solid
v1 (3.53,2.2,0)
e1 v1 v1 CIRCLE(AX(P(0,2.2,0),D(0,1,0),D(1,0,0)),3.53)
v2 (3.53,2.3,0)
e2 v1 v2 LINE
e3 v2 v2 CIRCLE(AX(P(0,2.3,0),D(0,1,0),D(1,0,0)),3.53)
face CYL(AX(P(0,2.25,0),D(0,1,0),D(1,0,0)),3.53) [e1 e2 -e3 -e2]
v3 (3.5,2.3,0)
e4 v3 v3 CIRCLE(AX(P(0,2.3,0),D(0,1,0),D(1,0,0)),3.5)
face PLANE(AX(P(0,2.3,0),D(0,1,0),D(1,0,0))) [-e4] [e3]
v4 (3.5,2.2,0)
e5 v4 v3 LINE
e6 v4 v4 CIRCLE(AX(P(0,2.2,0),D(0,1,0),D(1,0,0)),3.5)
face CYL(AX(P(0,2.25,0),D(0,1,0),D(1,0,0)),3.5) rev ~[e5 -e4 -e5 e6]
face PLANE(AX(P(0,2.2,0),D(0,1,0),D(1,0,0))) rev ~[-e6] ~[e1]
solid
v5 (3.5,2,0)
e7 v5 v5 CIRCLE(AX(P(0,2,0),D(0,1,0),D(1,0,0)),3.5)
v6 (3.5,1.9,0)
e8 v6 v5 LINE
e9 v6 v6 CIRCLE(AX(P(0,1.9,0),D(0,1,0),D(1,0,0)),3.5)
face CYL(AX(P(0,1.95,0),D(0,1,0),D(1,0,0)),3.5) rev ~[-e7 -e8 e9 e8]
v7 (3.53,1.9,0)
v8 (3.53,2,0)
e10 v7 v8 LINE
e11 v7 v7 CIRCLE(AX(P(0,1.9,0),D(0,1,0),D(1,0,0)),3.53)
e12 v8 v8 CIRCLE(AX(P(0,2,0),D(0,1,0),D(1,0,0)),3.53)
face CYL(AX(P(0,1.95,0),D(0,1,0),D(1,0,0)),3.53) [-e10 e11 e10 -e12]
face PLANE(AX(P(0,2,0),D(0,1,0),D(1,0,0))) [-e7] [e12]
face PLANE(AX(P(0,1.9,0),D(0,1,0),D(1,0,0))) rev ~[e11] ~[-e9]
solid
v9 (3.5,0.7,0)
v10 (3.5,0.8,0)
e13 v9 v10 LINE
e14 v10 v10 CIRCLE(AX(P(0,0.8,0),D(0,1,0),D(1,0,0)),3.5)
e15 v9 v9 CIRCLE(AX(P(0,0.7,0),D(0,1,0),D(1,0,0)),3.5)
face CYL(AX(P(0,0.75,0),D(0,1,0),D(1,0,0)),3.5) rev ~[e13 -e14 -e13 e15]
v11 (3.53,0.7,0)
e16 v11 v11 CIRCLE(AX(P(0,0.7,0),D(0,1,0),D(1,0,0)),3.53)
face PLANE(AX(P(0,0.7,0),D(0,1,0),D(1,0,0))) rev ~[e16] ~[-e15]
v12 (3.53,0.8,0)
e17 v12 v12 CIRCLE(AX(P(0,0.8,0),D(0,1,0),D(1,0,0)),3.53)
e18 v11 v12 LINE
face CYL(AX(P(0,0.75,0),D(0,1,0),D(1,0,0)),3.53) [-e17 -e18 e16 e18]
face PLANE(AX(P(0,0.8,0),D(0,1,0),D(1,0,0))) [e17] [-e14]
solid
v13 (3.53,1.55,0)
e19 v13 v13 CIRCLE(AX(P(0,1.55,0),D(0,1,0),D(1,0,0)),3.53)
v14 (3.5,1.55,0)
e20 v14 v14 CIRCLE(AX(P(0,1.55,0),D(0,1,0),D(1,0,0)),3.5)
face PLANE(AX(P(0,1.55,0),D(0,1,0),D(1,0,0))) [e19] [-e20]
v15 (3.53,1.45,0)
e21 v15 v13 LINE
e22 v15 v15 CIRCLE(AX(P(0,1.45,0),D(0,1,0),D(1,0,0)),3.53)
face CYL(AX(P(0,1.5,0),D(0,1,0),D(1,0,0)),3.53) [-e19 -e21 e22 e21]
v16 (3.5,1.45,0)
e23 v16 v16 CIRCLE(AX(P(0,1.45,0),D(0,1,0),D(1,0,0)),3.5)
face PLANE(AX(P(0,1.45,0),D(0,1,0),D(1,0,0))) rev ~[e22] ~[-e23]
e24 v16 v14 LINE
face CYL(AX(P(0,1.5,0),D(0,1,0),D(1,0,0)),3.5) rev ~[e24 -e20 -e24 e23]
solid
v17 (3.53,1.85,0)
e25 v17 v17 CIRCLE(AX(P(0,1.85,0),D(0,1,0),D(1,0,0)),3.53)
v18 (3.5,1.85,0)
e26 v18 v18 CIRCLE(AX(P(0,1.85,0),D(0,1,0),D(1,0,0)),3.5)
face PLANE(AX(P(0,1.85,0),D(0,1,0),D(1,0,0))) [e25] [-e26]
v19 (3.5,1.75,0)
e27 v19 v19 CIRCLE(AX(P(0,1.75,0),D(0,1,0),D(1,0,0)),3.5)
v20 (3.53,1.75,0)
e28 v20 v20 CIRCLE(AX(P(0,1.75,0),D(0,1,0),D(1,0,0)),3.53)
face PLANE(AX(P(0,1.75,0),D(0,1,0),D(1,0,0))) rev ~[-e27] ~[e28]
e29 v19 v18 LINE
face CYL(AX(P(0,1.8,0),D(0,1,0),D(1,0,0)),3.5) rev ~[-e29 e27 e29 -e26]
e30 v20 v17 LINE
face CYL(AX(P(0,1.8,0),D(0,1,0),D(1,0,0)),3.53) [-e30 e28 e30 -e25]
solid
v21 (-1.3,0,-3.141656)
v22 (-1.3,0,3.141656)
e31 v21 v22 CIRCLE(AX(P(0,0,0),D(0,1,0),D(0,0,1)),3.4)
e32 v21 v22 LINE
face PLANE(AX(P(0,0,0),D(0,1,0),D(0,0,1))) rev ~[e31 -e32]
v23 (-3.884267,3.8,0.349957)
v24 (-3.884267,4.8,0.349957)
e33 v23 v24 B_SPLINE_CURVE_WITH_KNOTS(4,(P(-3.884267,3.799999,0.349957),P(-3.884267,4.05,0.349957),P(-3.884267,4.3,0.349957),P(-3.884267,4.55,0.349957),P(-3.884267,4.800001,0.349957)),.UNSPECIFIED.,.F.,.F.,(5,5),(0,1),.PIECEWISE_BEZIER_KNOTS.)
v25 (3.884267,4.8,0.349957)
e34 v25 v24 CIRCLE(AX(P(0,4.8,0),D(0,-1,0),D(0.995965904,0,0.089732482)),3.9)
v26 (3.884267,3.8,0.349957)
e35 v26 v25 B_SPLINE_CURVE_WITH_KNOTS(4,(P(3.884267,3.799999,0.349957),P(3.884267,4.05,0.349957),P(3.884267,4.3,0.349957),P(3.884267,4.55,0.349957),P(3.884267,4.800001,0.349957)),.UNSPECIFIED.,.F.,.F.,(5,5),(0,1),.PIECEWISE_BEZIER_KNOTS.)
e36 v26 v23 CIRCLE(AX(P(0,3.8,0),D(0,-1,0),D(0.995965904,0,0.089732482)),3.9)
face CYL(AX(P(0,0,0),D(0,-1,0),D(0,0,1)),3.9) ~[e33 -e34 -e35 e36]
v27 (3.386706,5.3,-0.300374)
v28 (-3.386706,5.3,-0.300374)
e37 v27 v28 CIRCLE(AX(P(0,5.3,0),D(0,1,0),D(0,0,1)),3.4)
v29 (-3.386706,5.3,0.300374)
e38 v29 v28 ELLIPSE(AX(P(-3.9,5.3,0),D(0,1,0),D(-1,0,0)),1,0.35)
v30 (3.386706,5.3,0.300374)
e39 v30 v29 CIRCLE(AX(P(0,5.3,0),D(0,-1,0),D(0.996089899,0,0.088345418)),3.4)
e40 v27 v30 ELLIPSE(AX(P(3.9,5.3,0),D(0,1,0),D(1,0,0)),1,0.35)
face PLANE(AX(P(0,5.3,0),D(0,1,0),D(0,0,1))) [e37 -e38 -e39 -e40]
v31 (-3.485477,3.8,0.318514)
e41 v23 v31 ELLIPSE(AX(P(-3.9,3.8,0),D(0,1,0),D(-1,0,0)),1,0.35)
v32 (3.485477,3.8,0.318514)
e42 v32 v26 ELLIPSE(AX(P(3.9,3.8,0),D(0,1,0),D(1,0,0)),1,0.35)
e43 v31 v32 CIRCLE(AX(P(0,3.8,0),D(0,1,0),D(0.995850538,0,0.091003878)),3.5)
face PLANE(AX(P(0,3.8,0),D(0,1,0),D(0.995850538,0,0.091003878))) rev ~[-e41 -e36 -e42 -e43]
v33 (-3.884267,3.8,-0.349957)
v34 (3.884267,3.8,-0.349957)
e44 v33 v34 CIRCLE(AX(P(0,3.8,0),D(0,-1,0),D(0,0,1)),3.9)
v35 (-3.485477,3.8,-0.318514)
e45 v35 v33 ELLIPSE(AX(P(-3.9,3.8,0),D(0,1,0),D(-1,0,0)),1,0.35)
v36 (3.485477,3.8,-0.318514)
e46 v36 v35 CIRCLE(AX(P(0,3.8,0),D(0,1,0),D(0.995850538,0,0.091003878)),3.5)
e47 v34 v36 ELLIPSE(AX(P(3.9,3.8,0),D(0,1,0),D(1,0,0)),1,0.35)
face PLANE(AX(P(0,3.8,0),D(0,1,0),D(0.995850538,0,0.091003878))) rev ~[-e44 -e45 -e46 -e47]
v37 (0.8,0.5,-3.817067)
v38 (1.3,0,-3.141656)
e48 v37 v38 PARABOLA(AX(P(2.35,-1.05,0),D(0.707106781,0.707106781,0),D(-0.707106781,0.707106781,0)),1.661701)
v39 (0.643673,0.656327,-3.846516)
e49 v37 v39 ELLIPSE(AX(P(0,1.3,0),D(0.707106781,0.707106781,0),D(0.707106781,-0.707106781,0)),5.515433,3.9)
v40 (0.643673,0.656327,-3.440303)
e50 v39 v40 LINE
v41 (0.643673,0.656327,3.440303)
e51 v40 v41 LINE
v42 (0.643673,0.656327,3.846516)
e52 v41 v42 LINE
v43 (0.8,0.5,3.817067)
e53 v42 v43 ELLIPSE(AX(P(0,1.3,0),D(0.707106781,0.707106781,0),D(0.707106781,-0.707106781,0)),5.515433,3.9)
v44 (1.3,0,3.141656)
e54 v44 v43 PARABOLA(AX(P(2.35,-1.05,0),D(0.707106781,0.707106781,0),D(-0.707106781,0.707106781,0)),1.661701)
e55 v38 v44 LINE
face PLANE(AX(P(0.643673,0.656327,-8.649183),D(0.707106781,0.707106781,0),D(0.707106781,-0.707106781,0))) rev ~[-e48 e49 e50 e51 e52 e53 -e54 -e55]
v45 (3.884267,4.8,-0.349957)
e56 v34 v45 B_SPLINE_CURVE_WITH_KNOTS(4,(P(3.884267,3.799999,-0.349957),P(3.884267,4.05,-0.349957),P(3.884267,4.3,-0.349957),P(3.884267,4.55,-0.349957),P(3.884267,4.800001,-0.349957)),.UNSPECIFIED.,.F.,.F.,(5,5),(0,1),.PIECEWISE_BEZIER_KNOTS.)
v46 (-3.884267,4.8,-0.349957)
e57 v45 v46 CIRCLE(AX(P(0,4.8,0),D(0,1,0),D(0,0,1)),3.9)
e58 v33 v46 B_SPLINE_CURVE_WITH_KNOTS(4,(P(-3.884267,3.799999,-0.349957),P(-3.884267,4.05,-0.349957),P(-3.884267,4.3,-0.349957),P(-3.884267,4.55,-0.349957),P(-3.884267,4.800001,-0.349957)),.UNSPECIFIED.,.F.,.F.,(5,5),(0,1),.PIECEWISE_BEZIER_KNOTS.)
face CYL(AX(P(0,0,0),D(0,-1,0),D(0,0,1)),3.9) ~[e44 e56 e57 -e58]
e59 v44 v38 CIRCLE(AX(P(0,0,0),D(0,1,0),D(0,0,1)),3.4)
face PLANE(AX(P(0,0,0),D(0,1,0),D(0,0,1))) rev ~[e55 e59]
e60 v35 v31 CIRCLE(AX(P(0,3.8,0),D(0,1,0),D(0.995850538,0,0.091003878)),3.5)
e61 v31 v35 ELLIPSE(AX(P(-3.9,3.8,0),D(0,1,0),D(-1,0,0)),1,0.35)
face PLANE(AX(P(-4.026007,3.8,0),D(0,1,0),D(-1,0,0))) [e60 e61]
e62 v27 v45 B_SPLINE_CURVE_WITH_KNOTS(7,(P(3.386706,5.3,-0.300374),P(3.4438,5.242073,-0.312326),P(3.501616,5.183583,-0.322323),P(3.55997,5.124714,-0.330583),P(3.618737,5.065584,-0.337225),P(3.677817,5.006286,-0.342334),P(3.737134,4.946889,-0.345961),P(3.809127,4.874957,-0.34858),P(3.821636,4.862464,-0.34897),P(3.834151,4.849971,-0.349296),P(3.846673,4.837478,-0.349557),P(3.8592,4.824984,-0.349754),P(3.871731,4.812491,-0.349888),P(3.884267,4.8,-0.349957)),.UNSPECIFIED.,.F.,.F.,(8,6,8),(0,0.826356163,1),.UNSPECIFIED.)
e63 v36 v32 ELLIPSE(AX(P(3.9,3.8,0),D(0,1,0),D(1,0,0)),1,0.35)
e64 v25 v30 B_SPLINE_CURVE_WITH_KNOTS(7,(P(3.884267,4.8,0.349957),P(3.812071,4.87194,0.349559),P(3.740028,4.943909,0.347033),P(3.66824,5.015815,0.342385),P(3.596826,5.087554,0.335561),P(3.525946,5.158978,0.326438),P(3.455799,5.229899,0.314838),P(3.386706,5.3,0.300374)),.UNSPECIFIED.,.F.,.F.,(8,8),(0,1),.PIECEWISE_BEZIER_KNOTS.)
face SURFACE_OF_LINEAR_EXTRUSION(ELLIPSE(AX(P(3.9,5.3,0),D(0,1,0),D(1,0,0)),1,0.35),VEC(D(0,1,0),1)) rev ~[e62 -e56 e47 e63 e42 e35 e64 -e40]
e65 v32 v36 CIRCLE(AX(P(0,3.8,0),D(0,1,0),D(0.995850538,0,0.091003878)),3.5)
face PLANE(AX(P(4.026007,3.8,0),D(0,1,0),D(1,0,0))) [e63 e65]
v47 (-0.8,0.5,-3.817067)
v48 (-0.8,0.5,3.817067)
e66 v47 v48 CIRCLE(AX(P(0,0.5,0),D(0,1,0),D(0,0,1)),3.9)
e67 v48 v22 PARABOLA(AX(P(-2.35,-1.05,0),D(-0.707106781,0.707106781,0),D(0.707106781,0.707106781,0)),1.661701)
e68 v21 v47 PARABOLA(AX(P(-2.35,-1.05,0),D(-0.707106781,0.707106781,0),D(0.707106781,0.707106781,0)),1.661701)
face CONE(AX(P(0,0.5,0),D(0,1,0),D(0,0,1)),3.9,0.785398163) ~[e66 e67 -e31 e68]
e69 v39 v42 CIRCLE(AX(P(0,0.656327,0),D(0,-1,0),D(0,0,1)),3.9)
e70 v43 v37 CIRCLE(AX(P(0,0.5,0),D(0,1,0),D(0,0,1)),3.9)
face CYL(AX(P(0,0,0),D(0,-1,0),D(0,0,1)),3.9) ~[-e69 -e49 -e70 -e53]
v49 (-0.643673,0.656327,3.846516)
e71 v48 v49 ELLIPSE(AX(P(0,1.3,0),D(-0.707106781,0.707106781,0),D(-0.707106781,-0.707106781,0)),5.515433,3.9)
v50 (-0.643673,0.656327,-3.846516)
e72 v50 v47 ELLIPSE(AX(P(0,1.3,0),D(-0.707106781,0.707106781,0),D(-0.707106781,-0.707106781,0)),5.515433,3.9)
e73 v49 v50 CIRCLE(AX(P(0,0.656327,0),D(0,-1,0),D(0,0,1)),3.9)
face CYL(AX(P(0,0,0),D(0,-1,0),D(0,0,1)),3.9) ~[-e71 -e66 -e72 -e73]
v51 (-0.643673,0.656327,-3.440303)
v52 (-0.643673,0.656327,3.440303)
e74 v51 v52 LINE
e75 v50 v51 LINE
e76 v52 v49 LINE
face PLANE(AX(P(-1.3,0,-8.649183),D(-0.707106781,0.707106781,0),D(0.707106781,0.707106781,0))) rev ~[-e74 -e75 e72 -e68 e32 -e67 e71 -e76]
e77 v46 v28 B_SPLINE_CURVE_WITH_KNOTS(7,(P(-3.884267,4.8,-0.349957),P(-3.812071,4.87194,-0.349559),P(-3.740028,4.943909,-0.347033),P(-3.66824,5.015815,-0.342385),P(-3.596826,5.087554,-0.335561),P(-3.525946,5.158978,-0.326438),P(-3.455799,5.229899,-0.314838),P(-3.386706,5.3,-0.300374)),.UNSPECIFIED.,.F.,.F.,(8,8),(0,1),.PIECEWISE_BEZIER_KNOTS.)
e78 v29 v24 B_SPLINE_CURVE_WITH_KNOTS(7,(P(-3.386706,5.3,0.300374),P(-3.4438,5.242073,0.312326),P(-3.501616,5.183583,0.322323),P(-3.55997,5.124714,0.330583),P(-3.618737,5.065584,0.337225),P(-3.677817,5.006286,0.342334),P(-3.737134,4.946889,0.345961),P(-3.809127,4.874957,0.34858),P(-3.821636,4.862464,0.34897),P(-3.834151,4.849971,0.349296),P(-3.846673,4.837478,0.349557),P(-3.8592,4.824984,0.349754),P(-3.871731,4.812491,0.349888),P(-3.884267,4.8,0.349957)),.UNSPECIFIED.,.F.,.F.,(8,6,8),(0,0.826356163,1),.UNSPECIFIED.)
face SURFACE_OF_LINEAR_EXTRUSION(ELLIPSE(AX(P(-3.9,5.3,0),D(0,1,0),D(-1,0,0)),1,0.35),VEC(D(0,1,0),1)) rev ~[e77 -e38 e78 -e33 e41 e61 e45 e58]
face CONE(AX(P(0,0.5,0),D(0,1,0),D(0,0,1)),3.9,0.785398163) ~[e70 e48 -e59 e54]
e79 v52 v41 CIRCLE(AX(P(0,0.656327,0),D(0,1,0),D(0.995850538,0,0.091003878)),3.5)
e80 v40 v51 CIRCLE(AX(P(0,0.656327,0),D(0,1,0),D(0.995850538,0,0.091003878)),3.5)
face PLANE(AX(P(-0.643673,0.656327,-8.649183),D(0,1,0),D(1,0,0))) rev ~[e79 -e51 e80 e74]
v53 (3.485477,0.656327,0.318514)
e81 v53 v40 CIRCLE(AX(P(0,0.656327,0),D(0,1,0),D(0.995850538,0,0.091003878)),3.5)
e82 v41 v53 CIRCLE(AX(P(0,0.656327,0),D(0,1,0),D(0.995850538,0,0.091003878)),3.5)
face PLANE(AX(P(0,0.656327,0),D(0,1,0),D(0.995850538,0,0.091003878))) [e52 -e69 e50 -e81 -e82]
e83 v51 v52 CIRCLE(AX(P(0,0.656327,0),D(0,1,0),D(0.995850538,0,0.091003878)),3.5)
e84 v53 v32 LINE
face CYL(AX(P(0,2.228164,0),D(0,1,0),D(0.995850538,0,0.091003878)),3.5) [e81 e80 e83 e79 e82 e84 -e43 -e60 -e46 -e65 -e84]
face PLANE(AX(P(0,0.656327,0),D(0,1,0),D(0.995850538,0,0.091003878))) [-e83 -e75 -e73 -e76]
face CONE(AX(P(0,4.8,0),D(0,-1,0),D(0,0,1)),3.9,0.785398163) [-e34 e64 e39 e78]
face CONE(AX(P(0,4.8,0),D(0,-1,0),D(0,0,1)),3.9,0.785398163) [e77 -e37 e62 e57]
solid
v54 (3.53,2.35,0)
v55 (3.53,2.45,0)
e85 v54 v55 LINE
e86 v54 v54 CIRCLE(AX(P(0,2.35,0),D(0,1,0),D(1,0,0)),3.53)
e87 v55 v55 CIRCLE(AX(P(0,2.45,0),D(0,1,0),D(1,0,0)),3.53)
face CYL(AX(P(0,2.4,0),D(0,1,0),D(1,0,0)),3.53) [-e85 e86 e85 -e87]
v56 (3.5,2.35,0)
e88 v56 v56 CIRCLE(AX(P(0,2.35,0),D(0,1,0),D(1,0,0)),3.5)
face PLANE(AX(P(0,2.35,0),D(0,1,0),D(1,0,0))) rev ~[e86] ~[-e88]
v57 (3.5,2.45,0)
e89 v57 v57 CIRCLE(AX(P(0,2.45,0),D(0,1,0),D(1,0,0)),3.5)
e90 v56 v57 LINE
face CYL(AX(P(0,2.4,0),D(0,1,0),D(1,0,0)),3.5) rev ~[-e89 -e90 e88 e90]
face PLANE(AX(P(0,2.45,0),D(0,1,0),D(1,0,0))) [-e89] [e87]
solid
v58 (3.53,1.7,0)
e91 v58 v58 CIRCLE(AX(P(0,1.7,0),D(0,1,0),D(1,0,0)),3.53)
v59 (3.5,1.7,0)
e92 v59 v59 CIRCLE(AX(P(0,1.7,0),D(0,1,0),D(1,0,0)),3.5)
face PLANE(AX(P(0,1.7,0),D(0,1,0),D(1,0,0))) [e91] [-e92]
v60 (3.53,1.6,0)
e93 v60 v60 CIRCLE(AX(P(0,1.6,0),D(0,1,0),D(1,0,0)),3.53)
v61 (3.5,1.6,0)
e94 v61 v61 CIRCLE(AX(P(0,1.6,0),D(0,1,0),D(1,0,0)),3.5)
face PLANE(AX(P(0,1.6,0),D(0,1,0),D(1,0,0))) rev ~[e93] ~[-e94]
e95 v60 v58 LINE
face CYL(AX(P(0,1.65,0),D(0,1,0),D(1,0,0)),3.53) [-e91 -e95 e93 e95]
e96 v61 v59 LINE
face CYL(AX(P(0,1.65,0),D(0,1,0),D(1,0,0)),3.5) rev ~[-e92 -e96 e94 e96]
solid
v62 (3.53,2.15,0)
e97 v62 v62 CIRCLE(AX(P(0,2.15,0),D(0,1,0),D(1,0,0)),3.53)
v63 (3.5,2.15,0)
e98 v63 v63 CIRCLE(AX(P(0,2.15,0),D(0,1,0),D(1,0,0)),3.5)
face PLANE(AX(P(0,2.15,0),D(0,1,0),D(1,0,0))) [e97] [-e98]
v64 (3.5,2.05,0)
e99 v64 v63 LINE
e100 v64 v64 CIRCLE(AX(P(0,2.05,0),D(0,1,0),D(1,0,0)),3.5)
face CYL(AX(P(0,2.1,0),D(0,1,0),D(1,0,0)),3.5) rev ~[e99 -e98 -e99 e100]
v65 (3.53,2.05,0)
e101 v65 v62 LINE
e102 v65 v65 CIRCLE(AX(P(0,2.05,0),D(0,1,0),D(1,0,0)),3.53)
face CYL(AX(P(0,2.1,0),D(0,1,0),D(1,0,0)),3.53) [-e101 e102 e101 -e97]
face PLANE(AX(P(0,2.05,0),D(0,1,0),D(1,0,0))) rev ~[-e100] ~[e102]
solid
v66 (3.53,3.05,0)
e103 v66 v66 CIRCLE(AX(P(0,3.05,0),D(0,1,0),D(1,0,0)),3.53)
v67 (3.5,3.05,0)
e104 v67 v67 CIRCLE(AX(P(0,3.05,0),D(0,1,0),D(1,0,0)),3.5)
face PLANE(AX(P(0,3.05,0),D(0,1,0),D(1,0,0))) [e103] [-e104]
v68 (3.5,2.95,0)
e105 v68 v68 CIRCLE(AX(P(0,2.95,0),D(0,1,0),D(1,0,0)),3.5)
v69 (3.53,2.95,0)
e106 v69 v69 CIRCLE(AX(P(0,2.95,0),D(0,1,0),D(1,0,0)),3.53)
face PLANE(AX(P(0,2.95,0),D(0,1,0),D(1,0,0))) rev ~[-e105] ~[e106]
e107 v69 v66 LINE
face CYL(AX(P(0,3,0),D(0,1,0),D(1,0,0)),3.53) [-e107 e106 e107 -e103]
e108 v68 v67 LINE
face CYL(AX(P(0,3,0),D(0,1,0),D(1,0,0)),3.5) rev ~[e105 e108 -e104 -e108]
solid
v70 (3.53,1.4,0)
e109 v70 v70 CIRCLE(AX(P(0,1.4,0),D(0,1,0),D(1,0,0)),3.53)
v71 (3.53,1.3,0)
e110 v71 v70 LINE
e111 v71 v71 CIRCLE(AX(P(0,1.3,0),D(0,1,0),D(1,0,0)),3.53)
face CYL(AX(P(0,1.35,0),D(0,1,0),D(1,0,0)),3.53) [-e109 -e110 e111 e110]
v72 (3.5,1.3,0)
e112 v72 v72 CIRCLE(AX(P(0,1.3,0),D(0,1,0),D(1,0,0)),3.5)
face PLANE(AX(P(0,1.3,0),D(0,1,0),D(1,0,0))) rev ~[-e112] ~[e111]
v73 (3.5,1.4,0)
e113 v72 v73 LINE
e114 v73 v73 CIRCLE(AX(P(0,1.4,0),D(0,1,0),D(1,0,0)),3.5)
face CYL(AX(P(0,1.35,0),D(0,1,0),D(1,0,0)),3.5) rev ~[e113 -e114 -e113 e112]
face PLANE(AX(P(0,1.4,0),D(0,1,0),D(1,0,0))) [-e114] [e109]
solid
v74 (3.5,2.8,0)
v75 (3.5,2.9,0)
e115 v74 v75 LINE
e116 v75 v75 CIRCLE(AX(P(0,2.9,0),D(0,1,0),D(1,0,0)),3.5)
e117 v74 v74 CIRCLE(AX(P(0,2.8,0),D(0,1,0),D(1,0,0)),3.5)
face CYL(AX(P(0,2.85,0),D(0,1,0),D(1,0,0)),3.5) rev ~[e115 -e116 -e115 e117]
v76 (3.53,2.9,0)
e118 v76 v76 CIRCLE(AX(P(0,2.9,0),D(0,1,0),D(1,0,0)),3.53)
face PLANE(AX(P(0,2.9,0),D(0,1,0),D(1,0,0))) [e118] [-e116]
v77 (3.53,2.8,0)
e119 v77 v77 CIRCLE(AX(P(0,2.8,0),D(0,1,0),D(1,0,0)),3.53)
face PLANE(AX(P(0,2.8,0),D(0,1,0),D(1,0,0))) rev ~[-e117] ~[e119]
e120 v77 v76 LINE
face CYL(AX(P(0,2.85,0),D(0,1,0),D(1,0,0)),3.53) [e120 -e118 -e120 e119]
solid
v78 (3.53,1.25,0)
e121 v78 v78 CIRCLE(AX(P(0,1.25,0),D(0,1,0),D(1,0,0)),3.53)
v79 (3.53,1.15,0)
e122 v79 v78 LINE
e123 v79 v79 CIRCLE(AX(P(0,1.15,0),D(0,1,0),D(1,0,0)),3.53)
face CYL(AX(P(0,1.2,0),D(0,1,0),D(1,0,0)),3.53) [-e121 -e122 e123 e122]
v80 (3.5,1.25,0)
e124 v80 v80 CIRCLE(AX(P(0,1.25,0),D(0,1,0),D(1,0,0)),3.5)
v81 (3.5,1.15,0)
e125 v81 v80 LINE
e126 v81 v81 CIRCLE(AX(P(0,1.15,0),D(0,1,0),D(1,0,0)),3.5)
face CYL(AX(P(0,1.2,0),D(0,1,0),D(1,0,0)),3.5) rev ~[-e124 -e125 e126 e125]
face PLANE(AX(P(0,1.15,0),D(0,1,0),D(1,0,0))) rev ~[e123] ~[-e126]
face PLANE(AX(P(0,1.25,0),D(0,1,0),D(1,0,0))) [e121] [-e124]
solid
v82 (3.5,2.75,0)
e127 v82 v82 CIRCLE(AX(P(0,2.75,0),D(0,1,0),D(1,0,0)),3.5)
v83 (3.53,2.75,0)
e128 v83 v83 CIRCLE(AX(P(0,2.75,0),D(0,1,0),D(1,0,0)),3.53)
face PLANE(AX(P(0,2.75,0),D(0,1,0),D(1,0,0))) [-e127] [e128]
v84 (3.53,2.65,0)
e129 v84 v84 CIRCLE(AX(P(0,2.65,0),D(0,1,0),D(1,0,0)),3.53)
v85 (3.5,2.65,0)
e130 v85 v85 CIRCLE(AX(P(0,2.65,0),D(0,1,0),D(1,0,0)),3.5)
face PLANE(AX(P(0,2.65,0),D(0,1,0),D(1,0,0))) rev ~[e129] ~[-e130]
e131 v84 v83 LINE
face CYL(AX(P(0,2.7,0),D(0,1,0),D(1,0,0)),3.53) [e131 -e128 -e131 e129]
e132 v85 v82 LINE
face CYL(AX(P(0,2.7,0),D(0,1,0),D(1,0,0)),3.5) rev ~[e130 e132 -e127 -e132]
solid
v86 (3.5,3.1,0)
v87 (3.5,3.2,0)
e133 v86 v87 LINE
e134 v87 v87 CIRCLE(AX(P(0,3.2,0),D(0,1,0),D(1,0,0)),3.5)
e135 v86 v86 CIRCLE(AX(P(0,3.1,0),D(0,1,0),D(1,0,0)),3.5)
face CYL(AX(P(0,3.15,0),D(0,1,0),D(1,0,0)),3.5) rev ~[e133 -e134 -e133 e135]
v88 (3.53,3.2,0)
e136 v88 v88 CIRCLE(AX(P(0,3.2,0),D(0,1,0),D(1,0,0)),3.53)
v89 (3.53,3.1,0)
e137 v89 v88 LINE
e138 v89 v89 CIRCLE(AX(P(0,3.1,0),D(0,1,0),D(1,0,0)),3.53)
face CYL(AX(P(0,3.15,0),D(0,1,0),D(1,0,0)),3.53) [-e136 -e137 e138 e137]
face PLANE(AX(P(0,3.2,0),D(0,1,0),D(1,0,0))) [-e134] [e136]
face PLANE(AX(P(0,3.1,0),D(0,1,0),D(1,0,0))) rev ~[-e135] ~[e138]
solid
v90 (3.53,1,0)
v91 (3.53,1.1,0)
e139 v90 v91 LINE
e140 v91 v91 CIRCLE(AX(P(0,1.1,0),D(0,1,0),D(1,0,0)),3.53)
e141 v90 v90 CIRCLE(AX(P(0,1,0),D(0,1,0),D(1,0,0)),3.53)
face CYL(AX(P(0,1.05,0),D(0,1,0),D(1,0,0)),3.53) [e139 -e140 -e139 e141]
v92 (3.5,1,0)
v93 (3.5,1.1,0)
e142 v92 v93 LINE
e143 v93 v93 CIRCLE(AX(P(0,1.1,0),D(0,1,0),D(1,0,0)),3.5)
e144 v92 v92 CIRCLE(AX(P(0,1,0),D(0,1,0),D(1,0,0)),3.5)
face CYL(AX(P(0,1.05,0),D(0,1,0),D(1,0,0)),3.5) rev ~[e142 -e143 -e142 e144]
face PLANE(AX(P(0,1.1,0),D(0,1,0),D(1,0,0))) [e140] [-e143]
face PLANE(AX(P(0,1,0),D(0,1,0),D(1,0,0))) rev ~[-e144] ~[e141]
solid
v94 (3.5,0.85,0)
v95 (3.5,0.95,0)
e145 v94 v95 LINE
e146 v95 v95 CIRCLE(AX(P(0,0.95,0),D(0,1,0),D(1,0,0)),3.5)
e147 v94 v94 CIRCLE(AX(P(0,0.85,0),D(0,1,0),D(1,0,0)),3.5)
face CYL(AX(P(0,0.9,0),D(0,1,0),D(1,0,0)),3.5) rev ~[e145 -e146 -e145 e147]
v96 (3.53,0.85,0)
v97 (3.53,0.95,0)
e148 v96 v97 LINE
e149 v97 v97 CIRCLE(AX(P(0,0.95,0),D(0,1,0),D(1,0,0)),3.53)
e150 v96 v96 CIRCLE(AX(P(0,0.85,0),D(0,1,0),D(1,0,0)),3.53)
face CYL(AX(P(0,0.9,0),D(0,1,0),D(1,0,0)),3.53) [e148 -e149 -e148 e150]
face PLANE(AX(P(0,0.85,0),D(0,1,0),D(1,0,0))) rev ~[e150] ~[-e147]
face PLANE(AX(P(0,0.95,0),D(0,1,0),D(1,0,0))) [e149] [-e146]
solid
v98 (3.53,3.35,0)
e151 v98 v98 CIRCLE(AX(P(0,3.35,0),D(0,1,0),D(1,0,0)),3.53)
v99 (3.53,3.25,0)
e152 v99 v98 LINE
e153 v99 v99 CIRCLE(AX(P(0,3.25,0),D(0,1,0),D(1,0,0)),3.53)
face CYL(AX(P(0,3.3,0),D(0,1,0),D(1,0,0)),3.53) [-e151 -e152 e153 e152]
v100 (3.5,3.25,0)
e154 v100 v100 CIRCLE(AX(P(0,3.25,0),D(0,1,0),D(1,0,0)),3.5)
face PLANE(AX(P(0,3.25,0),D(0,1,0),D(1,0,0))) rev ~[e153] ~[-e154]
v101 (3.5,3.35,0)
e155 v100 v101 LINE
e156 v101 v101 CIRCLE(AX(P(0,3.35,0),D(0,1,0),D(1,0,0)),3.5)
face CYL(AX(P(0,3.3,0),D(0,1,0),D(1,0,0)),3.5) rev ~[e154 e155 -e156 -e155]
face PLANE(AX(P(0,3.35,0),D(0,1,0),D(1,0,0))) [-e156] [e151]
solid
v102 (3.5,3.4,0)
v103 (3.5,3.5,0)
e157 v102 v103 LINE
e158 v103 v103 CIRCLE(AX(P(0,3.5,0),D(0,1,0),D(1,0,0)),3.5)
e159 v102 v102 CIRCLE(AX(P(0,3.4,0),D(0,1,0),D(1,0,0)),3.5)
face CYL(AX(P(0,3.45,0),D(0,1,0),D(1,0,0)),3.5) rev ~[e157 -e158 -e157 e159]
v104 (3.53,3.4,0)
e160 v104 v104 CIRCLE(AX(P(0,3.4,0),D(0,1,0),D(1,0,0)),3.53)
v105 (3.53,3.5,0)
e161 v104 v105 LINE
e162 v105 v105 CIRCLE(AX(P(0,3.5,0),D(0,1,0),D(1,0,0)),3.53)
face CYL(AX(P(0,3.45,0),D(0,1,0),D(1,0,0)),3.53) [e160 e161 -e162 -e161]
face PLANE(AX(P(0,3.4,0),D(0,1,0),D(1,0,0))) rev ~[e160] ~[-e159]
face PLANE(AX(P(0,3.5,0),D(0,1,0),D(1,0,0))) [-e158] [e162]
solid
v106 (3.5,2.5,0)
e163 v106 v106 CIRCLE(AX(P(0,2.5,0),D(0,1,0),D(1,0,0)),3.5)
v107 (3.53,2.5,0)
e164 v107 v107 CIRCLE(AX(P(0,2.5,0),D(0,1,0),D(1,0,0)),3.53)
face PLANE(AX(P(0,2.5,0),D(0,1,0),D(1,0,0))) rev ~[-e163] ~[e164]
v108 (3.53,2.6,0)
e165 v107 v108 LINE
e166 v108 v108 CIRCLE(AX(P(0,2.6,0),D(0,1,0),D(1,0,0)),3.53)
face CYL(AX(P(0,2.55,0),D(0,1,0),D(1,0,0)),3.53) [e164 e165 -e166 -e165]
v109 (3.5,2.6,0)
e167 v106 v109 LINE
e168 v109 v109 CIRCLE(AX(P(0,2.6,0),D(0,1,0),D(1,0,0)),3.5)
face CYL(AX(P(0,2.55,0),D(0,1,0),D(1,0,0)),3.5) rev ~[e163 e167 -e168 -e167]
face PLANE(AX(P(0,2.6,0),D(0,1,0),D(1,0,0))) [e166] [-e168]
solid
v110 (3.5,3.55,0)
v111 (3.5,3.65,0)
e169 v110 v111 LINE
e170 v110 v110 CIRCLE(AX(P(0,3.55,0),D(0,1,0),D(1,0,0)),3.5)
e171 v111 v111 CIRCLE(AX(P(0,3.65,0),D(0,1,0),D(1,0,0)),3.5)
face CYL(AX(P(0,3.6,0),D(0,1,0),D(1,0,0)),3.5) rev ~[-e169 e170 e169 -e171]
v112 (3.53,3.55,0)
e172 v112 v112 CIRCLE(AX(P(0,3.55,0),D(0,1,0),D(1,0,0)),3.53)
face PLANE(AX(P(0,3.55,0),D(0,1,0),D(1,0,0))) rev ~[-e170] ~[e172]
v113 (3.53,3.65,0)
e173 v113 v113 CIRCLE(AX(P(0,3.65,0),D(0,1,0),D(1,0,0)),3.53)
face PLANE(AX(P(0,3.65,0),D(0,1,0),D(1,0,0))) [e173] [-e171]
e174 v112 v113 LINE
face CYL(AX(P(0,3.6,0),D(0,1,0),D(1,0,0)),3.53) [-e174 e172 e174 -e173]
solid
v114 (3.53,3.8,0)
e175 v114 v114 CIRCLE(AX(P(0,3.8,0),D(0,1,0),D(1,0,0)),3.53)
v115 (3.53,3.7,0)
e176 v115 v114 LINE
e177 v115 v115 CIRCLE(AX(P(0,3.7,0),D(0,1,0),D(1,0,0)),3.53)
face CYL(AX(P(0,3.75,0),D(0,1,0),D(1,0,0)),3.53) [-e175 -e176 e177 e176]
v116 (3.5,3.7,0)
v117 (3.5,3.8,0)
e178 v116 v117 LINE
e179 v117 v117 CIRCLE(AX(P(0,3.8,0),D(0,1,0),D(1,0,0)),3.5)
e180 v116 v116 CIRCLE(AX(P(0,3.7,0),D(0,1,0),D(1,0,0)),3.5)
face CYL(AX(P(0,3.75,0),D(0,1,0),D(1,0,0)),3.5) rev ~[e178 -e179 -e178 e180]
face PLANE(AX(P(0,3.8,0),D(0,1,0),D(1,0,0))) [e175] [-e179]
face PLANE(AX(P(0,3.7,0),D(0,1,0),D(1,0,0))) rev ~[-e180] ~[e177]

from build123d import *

# Parameters (mm, degrees)
SKETCH1_R               = 3.9
BOSS_EXTRUDE1_DEPTH     = 5.3
CHAMFER1_SIZE           = 0.5
CHAMFER2_SIZE           = 0.5
CUT_EXTRUDE2_DEPTH      = 8.649182963
CUT_EXTRUDE2_DEPTH_BACK = 8.649182963
SKETCH4_RX              = 1
SKETCH4_RY              = 0.35
CUT_EXTRUDE4_DEPTH      = 1.5
SKETCH5_W               = 0.8
SKETCH5_H               = 3.143672775
SKETCH6_W               = 0.03
SKETCH6_H               = 0.1


with BuildPart() as part:
    # Sketch1 → Boss-Extrude1 (new body)
    with BuildSketch(Plane(origin=(0, 0, 0), x_dir=(1, 0, 0), z_dir=(0, 1, 0))):
        with Locations(Location((0, 0, 0), (0, 0, 270))):
            Circle(SKETCH1_R)
    extrude(amount=BOSS_EXTRUDE1_DEPTH)

    # Chamfer1
    chamfer1_edges = [part.edges().sort_by_distance(p)[0] for p in [
        (0, 5.3, -3.9),
    ]]
    chamfer(chamfer1_edges, length=CHAMFER1_SIZE)

    # Chamfer2
    chamfer2_edges = [part.edges().sort_by_distance(p)[0] for p in [
        (0, 0, -3.9),
    ]]
    chamfer(chamfer2_edges, length=CHAMFER2_SIZE)

    # Sketch2 → Cut-Extrude2 (cut, two sides: drawn at the far end of the back side and taken through both)
    with BuildSketch(Plane.XY.offset(-CUT_EXTRUDE2_DEPTH_BACK)):
        Polygon((0, 0), (-1.3, 0), (-0.643672775, 0.656327225), (0.643672775, 0.656327225), (1.3, 0), align=None)
    extrude(amount=CUT_EXTRUDE2_DEPTH + CUT_EXTRUDE2_DEPTH_BACK, mode=Mode.SUBTRACT)

    # Sketch4 → Cut-Extrude4 (cut)
    with BuildSketch(Plane(origin=(0, 5.3, 0), x_dir=(1, 0, 0), z_dir=(0, 1, 0))):
        with Locations(Location((-3.9, 0), (0, 0, 180))):
            Ellipse(SKETCH4_RX, SKETCH4_RY)
        with Locations((3.9, 0)):
            Ellipse(SKETCH4_RX, SKETCH4_RY)
    extrude(amount=-CUT_EXTRUDE4_DEPTH, mode=Mode.SUBTRACT)

    # Sketch5 → Cut-Revolve1 (revolve, cut)
    with BuildSketch(Plane.XY, mode=Mode.PRIVATE) as cut_revolve1_sk:
        with Locations((-3.9, 2.228163613)):
            Rectangle(SKETCH5_W, SKETCH5_H)
    revolve(cut_revolve1_sk.sketch.rotate(Axis((0, -1000, 0), (0, 1, 0)), 174.778637909), axis=Axis((0, -1000, 0), (0, 1, 0)), mode=Mode.SUBTRACT)


with BuildPart() as body_2:
    # Sketch6 → Revolve1 (revolve)
    with BuildSketch(Plane.XY, mode=Mode.PRIVATE) as revolve1_sk:
        with Locations((-3.515, 3.6)):
            Rectangle(SKETCH6_W, SKETCH6_H)
        with Locations((-3.515, 3.75)):
            Rectangle(SKETCH6_W, SKETCH6_H)
        with Locations((-3.515, 3.45)):
            Rectangle(SKETCH6_W, SKETCH6_H)
        with Locations((-3.515, 3.3)):
            Rectangle(SKETCH6_W, SKETCH6_H)
        with Locations((-3.515, 3.15)):
            Rectangle(SKETCH6_W, SKETCH6_H)
        with Locations((-3.515, 3)):
            Rectangle(SKETCH6_W, SKETCH6_H)
        with Locations((-3.515, 2.85)):
            Rectangle(SKETCH6_W, SKETCH6_H)
        with Locations((-3.515, 2.7)):
            Rectangle(SKETCH6_W, SKETCH6_H)
        with Locations((-3.515, 2.55)):
            Rectangle(SKETCH6_W, SKETCH6_H)
        with Locations((-3.515, 2.4)):
            Rectangle(SKETCH6_W, SKETCH6_H)
        with Locations((-3.515, 2.25)):
            Rectangle(SKETCH6_W, SKETCH6_H)
        with Locations((-3.515, 2.1)):
            Rectangle(SKETCH6_W, SKETCH6_H)
        with Locations((-3.515, 1.95)):
            Rectangle(SKETCH6_W, SKETCH6_H)
        with Locations((-3.515, 1.8)):
            Rectangle(SKETCH6_W, SKETCH6_H)
        with Locations((-3.515, 1.65)):
            Rectangle(SKETCH6_W, SKETCH6_H)
        with Locations((-3.515, 1.5)):
            Rectangle(SKETCH6_W, SKETCH6_H)
        with Locations((-3.515, 1.35)):
            Rectangle(SKETCH6_W, SKETCH6_H)
        with Locations((-3.515, 1.2)):
            Rectangle(SKETCH6_W, SKETCH6_H)
        with Locations((-3.515, 1.05)):
            Rectangle(SKETCH6_W, SKETCH6_H)
        with Locations((-3.515, 0.9)):
            Rectangle(SKETCH6_W, SKETCH6_H)
        with Locations((-3.515, 0.75)):
            Rectangle(SKETCH6_W, SKETCH6_H)
    revolve(revolve1_sk.sketch.rotate(Axis((0, -1000, 0), (0, 1, 0)), 180), axis=Axis((0, -1000, 0), (0, 1, 0)))


solid = Compound([part.part, body_2.part])
